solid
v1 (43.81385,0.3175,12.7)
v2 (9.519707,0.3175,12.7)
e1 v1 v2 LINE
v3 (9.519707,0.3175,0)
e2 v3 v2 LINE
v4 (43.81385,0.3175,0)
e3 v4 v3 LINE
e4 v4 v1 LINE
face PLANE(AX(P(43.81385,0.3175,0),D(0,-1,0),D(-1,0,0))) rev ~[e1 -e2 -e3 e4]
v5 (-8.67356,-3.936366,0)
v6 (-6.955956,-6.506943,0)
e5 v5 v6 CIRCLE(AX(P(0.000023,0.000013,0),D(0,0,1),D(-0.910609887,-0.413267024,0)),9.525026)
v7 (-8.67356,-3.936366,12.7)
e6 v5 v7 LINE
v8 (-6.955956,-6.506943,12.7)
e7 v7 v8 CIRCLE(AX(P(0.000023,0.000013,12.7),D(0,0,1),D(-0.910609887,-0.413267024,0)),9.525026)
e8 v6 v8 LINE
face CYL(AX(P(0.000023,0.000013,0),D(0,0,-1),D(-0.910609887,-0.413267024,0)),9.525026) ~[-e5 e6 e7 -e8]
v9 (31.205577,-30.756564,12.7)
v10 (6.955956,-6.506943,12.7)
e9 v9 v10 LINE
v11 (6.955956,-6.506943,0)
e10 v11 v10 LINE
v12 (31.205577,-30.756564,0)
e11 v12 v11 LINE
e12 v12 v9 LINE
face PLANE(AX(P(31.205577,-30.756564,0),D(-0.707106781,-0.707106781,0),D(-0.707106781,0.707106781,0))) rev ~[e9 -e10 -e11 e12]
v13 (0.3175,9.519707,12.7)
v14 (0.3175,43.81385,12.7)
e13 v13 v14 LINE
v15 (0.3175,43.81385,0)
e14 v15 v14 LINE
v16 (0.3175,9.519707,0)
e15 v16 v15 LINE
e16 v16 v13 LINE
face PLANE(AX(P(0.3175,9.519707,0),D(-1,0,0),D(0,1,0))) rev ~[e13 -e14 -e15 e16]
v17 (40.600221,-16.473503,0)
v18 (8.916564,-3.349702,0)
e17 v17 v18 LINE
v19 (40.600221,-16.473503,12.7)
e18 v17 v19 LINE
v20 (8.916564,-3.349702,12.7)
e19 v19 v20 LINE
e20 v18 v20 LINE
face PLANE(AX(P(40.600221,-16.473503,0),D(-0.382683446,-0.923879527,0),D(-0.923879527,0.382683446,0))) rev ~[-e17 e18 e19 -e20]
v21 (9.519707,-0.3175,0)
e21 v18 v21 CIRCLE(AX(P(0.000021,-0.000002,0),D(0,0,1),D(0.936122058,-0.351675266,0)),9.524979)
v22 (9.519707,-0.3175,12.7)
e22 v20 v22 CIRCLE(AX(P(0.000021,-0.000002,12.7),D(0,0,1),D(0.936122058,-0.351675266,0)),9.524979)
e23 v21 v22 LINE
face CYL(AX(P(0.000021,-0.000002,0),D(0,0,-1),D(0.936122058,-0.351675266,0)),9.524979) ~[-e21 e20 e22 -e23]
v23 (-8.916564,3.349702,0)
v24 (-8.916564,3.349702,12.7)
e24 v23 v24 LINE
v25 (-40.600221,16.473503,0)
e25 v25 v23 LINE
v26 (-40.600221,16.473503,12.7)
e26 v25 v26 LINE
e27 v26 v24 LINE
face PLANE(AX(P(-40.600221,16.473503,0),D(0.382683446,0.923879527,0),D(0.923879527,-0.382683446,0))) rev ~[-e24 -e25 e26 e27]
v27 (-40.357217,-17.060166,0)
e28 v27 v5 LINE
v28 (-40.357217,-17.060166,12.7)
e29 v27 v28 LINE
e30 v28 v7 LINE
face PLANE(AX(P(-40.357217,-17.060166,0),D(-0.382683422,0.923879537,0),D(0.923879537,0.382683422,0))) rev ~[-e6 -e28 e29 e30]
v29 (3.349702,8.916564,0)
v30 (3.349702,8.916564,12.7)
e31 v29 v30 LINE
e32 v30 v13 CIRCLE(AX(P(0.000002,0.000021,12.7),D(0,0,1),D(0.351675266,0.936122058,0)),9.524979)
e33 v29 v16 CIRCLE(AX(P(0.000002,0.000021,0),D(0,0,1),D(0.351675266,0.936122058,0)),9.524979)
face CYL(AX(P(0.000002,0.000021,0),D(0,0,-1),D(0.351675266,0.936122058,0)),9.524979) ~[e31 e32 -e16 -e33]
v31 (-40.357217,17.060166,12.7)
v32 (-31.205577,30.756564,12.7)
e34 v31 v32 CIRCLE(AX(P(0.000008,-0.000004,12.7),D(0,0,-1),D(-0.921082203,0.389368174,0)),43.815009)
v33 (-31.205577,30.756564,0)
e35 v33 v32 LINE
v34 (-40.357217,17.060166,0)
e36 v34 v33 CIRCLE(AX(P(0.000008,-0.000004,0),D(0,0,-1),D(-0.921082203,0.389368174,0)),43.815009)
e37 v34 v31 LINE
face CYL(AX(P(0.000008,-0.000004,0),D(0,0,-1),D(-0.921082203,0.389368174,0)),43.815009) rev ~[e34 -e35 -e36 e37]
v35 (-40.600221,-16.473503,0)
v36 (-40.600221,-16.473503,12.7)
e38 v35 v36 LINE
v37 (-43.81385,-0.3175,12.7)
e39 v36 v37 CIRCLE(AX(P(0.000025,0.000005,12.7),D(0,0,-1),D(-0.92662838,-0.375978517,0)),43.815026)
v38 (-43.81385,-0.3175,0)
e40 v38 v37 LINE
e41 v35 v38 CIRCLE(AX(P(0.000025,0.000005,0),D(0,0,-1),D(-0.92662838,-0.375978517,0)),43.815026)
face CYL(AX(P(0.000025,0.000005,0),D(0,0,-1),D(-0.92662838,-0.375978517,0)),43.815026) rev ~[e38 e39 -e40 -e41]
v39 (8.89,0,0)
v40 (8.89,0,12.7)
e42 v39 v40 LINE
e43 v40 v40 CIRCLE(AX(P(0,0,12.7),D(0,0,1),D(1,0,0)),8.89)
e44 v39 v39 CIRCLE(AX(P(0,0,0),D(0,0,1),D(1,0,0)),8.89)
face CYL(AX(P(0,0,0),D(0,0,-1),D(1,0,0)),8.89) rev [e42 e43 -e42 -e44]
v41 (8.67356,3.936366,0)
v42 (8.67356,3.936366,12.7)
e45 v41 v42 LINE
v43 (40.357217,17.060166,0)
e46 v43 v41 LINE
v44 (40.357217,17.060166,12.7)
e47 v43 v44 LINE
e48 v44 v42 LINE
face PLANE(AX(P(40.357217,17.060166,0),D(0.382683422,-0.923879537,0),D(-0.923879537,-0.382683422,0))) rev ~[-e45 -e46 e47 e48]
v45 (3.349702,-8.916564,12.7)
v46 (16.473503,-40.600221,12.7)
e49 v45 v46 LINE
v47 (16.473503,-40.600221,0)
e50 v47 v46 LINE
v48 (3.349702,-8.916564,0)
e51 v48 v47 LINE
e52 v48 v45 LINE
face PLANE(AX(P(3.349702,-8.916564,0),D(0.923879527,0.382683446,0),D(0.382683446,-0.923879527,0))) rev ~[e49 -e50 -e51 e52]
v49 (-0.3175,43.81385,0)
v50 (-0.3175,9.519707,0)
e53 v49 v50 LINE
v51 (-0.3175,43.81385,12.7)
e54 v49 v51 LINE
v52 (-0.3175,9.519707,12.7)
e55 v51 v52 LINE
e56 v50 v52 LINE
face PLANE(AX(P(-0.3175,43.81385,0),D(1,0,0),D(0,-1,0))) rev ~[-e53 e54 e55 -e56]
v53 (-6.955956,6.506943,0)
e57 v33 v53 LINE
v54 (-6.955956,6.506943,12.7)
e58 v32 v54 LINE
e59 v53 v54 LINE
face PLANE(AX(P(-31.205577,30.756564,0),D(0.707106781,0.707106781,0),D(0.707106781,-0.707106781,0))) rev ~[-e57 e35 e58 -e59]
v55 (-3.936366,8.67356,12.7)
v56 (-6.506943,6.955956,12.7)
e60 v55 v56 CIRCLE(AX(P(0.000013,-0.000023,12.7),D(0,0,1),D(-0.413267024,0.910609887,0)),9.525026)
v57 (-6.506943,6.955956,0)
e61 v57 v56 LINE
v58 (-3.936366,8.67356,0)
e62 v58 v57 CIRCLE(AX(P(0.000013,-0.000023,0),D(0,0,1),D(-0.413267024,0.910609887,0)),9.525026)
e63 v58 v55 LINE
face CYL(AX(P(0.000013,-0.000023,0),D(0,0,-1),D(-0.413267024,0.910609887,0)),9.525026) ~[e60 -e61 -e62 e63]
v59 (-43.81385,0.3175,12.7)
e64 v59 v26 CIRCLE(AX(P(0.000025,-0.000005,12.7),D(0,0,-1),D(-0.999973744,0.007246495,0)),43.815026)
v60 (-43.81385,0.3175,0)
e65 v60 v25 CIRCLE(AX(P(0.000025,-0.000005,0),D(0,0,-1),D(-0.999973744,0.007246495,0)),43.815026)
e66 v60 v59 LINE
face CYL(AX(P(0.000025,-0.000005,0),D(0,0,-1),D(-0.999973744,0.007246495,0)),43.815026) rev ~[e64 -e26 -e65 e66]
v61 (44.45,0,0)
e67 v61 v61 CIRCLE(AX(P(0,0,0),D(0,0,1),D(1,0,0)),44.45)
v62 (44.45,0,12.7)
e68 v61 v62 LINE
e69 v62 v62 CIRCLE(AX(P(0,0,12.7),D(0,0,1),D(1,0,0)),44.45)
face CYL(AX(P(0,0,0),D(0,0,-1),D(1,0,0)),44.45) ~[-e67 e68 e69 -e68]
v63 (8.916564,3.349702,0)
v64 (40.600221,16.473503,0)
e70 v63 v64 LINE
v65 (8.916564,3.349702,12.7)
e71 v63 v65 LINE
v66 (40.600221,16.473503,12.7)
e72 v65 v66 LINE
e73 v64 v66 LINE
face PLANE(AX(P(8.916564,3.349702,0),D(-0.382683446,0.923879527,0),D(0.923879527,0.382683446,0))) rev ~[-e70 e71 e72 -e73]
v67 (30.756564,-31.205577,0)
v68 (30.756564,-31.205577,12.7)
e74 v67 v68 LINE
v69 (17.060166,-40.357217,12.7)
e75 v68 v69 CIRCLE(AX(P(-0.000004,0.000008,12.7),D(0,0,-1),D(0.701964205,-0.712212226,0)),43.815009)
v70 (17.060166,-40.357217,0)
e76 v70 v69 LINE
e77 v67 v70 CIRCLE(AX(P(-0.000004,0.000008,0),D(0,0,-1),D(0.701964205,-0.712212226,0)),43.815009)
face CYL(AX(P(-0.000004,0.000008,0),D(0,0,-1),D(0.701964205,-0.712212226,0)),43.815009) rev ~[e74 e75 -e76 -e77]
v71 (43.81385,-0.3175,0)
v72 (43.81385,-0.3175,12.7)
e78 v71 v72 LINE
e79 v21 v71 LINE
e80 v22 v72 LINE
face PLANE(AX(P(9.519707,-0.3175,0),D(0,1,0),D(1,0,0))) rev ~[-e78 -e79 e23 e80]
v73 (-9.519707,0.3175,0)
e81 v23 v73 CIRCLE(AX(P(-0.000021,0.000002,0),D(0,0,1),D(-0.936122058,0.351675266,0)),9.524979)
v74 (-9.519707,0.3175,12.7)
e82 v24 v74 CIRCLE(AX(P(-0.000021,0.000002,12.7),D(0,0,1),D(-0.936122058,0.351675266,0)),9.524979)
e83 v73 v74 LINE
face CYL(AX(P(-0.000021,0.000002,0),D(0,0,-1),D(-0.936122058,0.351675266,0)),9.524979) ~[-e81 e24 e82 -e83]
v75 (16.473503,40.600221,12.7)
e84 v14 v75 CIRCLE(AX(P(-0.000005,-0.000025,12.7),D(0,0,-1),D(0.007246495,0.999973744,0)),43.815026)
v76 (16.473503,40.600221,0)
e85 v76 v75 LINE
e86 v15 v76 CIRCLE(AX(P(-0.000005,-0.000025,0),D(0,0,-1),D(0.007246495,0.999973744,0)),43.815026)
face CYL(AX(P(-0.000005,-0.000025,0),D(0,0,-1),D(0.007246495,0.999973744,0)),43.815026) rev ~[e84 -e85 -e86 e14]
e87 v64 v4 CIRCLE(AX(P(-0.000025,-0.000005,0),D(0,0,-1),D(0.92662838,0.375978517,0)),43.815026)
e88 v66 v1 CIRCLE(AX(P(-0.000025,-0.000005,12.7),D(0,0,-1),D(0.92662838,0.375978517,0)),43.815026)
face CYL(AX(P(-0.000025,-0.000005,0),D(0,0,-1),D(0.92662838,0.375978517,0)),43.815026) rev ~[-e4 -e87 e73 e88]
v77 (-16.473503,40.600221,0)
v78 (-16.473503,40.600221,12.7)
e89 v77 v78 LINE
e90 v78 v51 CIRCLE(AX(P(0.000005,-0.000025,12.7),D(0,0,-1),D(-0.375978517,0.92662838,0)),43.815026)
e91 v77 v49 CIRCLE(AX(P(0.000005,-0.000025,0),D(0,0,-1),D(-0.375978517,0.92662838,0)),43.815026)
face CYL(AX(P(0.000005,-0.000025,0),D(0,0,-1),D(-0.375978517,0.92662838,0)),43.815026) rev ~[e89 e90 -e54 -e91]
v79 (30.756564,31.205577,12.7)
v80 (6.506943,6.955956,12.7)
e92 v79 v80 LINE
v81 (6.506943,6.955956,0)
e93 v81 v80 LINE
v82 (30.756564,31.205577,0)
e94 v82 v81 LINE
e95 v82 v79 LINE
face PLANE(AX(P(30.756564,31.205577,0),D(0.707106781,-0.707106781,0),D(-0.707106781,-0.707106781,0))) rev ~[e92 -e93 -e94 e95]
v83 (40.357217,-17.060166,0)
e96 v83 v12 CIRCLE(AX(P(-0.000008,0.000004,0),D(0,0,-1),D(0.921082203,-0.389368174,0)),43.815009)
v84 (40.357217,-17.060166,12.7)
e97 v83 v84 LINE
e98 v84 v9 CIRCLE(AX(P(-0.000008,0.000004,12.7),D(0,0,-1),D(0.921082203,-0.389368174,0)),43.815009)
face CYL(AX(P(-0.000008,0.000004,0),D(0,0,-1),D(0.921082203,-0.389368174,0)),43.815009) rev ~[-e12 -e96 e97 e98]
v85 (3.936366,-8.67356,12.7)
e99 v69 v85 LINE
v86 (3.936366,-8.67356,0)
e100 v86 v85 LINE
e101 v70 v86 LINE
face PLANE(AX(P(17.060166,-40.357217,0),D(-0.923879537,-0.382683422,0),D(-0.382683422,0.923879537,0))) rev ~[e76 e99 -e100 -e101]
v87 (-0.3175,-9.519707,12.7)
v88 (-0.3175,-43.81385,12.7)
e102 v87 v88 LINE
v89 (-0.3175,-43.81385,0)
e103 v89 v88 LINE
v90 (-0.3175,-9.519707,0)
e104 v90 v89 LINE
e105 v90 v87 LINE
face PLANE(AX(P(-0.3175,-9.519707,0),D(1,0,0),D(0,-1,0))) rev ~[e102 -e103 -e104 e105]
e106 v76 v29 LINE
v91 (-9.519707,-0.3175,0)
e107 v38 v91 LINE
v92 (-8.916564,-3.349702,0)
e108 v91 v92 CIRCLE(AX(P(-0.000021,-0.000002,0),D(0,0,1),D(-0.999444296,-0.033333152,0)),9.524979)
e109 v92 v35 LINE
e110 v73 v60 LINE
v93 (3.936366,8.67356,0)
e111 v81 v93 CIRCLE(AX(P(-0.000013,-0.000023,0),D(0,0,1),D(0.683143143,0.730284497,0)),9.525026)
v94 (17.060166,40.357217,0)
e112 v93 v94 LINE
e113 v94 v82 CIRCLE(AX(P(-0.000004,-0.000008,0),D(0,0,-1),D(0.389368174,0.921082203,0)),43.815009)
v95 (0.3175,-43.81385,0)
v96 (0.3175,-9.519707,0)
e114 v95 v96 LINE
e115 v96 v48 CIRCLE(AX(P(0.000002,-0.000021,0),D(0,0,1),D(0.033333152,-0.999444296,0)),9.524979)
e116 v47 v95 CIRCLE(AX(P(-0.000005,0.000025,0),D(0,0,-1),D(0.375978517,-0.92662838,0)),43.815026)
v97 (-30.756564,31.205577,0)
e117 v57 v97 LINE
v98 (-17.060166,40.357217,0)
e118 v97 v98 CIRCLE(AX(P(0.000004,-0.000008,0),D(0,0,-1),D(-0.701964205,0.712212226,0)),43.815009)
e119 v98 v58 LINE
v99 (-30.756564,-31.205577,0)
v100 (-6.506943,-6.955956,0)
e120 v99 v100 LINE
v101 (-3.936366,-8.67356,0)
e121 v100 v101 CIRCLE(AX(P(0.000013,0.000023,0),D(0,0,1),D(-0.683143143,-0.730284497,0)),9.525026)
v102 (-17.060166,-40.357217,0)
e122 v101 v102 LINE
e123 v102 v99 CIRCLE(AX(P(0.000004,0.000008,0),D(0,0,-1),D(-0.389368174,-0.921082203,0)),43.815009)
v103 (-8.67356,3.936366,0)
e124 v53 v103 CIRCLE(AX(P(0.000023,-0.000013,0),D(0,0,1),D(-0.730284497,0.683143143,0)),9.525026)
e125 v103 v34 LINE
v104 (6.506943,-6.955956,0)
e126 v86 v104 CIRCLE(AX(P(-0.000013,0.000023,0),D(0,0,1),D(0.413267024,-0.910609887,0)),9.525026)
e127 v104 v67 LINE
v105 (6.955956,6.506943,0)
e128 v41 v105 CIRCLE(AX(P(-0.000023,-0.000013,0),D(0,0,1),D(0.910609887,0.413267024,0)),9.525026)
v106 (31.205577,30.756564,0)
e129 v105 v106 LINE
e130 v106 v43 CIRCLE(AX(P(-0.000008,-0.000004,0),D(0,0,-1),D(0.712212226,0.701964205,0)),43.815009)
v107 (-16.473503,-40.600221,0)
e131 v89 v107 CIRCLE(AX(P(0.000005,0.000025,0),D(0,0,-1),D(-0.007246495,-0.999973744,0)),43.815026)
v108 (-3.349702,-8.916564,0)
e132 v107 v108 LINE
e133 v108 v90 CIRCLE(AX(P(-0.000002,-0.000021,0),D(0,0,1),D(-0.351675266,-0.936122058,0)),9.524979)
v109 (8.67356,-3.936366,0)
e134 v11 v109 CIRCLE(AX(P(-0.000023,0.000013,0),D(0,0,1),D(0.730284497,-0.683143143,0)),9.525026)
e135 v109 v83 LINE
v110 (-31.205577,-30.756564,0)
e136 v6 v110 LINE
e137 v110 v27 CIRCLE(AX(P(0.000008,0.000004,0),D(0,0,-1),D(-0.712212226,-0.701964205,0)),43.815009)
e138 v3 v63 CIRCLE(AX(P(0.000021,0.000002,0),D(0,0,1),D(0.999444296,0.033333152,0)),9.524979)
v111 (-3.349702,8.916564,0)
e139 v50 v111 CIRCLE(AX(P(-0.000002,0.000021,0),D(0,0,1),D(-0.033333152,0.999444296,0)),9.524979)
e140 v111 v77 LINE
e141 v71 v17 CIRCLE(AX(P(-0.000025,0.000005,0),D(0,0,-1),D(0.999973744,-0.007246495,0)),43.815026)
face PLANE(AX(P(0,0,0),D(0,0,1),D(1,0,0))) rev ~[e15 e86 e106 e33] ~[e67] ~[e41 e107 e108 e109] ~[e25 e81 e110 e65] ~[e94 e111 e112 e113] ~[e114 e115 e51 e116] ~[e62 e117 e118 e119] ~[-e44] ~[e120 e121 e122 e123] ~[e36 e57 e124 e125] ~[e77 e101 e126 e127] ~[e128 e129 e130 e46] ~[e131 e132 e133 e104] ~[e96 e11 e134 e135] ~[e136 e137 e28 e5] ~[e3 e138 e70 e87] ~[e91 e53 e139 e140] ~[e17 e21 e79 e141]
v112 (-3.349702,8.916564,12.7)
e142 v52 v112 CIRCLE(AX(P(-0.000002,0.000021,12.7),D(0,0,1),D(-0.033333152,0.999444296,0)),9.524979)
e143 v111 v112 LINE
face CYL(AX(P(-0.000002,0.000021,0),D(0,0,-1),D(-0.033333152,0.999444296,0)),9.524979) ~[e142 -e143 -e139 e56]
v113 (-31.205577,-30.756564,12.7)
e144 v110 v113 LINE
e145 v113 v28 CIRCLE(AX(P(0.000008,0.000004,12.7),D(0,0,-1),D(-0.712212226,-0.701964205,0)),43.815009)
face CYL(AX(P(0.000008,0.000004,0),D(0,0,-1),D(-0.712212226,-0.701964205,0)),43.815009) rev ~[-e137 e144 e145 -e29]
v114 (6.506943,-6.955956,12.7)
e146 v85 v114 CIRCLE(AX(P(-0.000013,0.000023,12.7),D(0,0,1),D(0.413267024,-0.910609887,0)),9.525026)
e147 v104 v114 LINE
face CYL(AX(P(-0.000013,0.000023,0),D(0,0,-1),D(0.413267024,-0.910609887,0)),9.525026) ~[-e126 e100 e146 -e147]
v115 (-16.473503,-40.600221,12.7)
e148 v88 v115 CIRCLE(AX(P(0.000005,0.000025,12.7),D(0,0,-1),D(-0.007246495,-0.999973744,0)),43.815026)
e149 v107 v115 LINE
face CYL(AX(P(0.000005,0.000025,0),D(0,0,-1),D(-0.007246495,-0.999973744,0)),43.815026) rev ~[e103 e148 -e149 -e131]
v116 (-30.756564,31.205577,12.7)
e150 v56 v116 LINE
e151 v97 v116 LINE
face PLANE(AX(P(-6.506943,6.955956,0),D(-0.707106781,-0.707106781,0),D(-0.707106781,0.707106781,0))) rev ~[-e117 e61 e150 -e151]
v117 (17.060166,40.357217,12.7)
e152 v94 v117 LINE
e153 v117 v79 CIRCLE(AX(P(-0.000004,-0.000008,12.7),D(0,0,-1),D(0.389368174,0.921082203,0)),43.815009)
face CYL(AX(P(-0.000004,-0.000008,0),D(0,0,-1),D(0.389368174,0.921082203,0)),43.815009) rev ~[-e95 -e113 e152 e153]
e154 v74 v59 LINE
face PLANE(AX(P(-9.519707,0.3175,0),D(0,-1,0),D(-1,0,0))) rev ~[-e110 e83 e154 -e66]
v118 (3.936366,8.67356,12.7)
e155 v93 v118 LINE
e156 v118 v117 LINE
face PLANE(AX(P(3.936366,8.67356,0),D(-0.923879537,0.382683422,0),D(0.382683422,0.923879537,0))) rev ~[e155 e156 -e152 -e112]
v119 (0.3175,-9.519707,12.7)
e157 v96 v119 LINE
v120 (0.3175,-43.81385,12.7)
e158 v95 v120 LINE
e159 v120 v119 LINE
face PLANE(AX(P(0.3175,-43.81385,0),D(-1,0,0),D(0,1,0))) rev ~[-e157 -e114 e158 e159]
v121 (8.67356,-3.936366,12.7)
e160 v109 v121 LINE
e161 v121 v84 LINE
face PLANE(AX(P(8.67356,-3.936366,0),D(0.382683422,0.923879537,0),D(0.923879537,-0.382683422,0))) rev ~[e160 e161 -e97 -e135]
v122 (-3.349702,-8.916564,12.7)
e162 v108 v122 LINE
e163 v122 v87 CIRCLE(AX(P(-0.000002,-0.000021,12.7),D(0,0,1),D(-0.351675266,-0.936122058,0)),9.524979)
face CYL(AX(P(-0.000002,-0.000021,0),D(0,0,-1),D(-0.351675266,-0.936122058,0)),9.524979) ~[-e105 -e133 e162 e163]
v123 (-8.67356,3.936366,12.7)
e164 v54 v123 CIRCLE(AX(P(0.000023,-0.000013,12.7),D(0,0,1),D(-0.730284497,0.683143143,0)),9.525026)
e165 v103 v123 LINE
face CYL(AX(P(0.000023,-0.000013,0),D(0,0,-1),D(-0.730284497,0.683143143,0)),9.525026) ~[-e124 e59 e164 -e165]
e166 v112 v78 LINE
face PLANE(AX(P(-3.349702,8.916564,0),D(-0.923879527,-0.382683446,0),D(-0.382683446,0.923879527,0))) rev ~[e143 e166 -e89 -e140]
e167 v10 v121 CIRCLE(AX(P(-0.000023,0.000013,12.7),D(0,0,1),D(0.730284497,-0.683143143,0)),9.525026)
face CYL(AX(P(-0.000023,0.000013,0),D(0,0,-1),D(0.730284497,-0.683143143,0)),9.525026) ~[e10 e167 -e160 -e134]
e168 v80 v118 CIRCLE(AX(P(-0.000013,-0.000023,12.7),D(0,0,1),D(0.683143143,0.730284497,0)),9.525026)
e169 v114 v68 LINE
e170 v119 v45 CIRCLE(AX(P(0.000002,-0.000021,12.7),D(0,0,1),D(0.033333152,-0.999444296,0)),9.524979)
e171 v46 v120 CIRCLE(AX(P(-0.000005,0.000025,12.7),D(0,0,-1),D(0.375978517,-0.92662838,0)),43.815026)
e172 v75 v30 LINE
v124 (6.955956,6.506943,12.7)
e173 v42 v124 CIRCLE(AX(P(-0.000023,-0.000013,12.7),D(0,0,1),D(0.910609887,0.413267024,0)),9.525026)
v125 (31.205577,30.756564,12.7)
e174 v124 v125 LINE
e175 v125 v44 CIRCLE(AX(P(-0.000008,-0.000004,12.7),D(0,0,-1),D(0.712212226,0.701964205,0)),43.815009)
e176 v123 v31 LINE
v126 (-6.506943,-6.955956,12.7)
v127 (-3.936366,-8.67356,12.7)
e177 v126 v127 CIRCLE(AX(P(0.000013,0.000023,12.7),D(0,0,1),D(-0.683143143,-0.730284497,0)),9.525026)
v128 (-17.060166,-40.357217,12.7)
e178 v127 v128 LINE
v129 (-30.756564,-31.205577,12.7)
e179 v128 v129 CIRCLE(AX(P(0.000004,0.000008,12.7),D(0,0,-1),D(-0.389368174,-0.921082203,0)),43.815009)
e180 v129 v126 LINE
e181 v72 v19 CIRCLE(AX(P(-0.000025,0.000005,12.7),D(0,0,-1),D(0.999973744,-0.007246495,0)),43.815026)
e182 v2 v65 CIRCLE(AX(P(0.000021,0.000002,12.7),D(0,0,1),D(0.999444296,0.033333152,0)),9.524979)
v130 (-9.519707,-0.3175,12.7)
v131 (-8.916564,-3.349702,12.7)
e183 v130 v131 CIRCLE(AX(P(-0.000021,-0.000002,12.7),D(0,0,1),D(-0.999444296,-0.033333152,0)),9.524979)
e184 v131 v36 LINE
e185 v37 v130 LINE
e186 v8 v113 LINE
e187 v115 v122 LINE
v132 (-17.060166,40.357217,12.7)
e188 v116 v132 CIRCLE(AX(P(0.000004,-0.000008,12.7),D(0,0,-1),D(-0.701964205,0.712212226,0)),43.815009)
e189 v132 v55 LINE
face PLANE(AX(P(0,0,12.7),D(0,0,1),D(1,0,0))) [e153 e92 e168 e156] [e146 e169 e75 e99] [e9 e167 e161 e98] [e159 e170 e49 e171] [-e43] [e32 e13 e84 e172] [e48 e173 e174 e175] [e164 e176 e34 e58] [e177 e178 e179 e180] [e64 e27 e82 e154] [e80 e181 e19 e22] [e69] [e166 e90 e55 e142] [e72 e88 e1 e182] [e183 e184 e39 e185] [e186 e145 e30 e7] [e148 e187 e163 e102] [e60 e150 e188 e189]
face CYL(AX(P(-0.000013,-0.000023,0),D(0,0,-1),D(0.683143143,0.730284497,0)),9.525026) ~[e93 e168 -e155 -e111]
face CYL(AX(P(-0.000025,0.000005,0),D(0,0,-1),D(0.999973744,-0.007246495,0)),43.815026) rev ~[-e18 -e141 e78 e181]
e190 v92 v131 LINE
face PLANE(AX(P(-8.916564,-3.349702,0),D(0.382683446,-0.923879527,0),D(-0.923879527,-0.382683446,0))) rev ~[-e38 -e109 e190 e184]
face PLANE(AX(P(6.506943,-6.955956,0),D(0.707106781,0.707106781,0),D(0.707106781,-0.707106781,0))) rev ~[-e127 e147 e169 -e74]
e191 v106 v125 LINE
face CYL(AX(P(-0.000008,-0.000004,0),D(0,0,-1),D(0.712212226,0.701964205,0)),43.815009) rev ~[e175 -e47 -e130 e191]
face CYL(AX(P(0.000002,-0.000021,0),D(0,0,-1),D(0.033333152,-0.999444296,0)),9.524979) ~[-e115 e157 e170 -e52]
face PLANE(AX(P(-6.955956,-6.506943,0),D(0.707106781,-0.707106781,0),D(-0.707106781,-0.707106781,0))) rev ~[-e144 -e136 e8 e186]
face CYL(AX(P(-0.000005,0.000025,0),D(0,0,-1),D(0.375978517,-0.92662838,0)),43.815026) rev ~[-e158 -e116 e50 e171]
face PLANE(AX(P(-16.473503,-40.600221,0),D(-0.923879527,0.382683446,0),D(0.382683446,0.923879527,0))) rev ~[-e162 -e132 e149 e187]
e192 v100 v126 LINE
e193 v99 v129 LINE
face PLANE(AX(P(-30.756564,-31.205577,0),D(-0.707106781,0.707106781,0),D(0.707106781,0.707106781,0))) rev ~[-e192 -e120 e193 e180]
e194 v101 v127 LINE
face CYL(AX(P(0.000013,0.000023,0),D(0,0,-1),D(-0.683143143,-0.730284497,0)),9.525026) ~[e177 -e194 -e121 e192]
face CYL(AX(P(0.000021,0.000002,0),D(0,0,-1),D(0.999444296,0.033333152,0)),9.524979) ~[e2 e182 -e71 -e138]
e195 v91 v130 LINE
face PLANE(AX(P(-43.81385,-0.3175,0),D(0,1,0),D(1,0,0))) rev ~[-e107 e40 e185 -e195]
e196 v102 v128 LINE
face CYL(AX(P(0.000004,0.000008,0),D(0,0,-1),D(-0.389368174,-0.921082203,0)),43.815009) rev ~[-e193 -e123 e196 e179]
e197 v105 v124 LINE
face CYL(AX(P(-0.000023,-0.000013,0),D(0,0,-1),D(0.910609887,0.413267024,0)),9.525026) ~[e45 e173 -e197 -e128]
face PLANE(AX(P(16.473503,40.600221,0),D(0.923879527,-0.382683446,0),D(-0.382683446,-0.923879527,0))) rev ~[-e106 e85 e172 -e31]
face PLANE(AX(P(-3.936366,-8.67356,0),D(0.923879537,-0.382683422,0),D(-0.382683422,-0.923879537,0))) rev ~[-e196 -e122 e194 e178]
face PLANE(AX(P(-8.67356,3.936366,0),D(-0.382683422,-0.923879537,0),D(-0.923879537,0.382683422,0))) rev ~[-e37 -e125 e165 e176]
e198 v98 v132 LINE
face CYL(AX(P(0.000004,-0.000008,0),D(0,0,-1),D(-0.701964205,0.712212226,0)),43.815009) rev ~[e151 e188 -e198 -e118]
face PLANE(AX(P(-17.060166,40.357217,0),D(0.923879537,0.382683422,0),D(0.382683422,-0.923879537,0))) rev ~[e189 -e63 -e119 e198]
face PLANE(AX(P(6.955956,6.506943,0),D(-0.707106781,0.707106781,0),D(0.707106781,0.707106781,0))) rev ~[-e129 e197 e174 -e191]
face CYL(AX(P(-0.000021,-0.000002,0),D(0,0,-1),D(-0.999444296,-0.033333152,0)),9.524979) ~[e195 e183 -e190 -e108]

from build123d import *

# Parameters (mm, degrees)
F0_R     = 44.45
F0_R_2   = 8.89
F1_DEPTH = 12.7


with BuildPart() as f1:
    # F0 (on Top) → F1 (new body)
    with BuildSketch(Plane.XY):
        Circle(F0_R)
        with BuildLine():
            Line((-30.756564, -31.205577), (-6.506943, -6.955956))
            ThreePointArc((-6.506943, -6.955956), (-5.291806, -7.919748), (-3.936366, -8.67356))
            Line((-3.936366, -8.67356), (-17.060166, -40.357217))
            ThreePointArc((-17.060166, -40.357217), (-24.34231, -36.430841), (-30.756564, -31.205577))
        make_face(mode=Mode.SUBTRACT)
        with BuildLine():
            Line((-16.473503, -40.600221), (-3.349702, -8.916564))
            ThreePointArc((-3.349702, -8.916564), (-1.858235, -9.34198), (-0.3175, -9.519707))
            Line((-0.3175, -9.519707), (-0.3175, -43.81385))
            ThreePointArc((-0.3175, -43.81385), (-8.547882, -42.973107), (-16.473503, -40.600221))
        make_face(mode=Mode.SUBTRACT)
        with BuildLine():
            Line((-40.357217, -17.060166), (-8.67356, -3.936366))
            ThreePointArc((-8.67356, -3.936366), (-7.919748, -5.291806), (-6.955956, -6.506943))
            Line((-6.955956, -6.506943), (-31.205577, -30.756564))
            ThreePointArc((-31.205577, -30.756564), (-36.430841, -24.34231), (-40.357217, -17.060166))
        make_face(mode=Mode.SUBTRACT)
        with BuildLine():
            ThreePointArc((-40.600221, -16.473503), (-42.973107, -8.547882), (-43.81385, -0.3175))
            Line((-43.81385, -0.3175), (-9.519707, -0.3175))
            ThreePointArc((-9.519707, -0.3175), (-9.34198, -1.858235), (-8.916564, -3.349702))
            Line((-8.916564, -3.349702), (-40.600221, -16.473503))
        make_face(mode=Mode.SUBTRACT)
        with BuildLine():
            ThreePointArc((0.3175, -9.519707), (1.858235, -9.34198), (3.349702, -8.916564))
            Line((3.349702, -8.916564), (16.473503, -40.600221))
            ThreePointArc((16.473503, -40.600221), (8.547882, -42.973107), (0.3175, -43.81385))
            Line((0.3175, -43.81385), (0.3175, -9.519707))
        make_face(mode=Mode.SUBTRACT)
        with BuildLine():
            ThreePointArc((3.936366, -8.67356), (5.291806, -7.919748), (6.506943, -6.955956))
            Line((6.506943, -6.955956), (30.756564, -31.205577))
            ThreePointArc((30.756564, -31.205577), (24.34231, -36.430841), (17.060166, -40.357217))
            Line((17.060166, -40.357217), (3.936366, -8.67356))
        make_face(mode=Mode.SUBTRACT)
        with BuildLine():
            ThreePointArc((6.955956, -6.506943), (7.919748, -5.291806), (8.67356, -3.936366))
            Line((8.67356, -3.936366), (40.357217, -17.060166))
            ThreePointArc((40.357217, -17.060166), (36.430841, -24.34231), (31.205577, -30.756564))
            Line((31.205577, -30.756564), (6.955956, -6.506943))
        make_face(mode=Mode.SUBTRACT)
        with BuildLine():
            ThreePointArc((8.916564, -3.349702), (9.34198, -1.858235), (9.519707, -0.3175))
            Line((9.519707, -0.3175), (43.81385, -0.3175))
            ThreePointArc((43.81385, -0.3175), (42.973107, -8.547882), (40.600221, -16.473503))
            Line((40.600221, -16.473503), (8.916564, -3.349702))
        make_face(mode=Mode.SUBTRACT)
        with BuildLine():
            Line((-40.600221, 16.473503), (-8.916564, 3.349702))
            ThreePointArc((-8.916564, 3.349702), (-9.34198, 1.858235), (-9.519707, 0.3175))
            Line((-9.519707, 0.3175), (-43.81385, 0.3175))
            ThreePointArc((-43.81385, 0.3175), (-42.973107, 8.547882), (-40.600221, 16.473503))
        make_face(mode=Mode.SUBTRACT)
        with BuildLine():
            Line((-31.205577, 30.756564), (-6.955956, 6.506943))
            ThreePointArc((-6.955956, 6.506943), (-7.919748, 5.291806), (-8.67356, 3.936366))
            Line((-8.67356, 3.936366), (-40.357217, 17.060166))
            ThreePointArc((-40.357217, 17.060166), (-36.430841, 24.34231), (-31.205577, 30.756564))
        make_face(mode=Mode.SUBTRACT)
        with BuildLine():
            Line((-17.060166, 40.357217), (-3.936366, 8.67356))
            ThreePointArc((-3.936366, 8.67356), (-5.291806, 7.919748), (-6.506943, 6.955956))
            Line((-6.506943, 6.955956), (-30.756564, 31.205577))
            ThreePointArc((-30.756564, 31.205577), (-24.34231, 36.430841), (-17.060166, 40.357217))
        make_face(mode=Mode.SUBTRACT)
        with BuildLine():
            ThreePointArc((-16.473503, 40.600221), (-8.547882, 42.973107), (-0.3175, 43.81385))
            Line((-0.3175, 43.81385), (-0.3175, 9.519707))
            ThreePointArc((-0.3175, 9.519707), (-1.858235, 9.34198), (-3.349702, 8.916564))
            Line((-3.349702, 8.916564), (-16.473503, 40.600221))
        make_face(mode=Mode.SUBTRACT)
        Circle(F0_R_2, mode=Mode.SUBTRACT)
        with BuildLine():
            Line((43.81385, 0.3175), (9.519707, 0.3175))
            ThreePointArc((9.519707, 0.3175), (9.34198, 1.858235), (8.916564, 3.349702))
            Line((8.916564, 3.349702), (40.600221, 16.473503))
            ThreePointArc((40.600221, 16.473503), (42.973107, 8.547882), (43.81385, 0.3175))
        make_face(mode=Mode.SUBTRACT)
        with BuildLine():
            Line((40.357217, 17.060166), (8.67356, 3.936366))
            ThreePointArc((8.67356, 3.936366), (7.919748, 5.291806), (6.955956, 6.506943))
            Line((6.955956, 6.506943), (31.205577, 30.756564))
            ThreePointArc((31.205577, 30.756564), (36.430841, 24.34231), (40.357217, 17.060166))
        make_face(mode=Mode.SUBTRACT)
        with BuildLine():
            Line((16.473503, 40.600221), (3.349702, 8.916564))
            ThreePointArc((3.349702, 8.916564), (1.858235, 9.34198), (0.3175, 9.519707))
            Line((0.3175, 9.519707), (0.3175, 43.81385))
            ThreePointArc((0.3175, 43.81385), (8.547882, 42.973107), (16.473503, 40.600221))
        make_face(mode=Mode.SUBTRACT)
        with BuildLine():
            Line((30.756564, 31.205577), (6.506943, 6.955956))
            ThreePointArc((6.506943, 6.955956), (5.291806, 7.919748), (3.936366, 8.67356))
            Line((3.936366, 8.67356), (17.060166, 40.357217))
            ThreePointArc((17.060166, 40.357217), (24.34231, 36.430841), (30.756564, 31.205577))
        make_face(mode=Mode.SUBTRACT)
    extrude(amount=F1_DEPTH)


solid = f1.part
